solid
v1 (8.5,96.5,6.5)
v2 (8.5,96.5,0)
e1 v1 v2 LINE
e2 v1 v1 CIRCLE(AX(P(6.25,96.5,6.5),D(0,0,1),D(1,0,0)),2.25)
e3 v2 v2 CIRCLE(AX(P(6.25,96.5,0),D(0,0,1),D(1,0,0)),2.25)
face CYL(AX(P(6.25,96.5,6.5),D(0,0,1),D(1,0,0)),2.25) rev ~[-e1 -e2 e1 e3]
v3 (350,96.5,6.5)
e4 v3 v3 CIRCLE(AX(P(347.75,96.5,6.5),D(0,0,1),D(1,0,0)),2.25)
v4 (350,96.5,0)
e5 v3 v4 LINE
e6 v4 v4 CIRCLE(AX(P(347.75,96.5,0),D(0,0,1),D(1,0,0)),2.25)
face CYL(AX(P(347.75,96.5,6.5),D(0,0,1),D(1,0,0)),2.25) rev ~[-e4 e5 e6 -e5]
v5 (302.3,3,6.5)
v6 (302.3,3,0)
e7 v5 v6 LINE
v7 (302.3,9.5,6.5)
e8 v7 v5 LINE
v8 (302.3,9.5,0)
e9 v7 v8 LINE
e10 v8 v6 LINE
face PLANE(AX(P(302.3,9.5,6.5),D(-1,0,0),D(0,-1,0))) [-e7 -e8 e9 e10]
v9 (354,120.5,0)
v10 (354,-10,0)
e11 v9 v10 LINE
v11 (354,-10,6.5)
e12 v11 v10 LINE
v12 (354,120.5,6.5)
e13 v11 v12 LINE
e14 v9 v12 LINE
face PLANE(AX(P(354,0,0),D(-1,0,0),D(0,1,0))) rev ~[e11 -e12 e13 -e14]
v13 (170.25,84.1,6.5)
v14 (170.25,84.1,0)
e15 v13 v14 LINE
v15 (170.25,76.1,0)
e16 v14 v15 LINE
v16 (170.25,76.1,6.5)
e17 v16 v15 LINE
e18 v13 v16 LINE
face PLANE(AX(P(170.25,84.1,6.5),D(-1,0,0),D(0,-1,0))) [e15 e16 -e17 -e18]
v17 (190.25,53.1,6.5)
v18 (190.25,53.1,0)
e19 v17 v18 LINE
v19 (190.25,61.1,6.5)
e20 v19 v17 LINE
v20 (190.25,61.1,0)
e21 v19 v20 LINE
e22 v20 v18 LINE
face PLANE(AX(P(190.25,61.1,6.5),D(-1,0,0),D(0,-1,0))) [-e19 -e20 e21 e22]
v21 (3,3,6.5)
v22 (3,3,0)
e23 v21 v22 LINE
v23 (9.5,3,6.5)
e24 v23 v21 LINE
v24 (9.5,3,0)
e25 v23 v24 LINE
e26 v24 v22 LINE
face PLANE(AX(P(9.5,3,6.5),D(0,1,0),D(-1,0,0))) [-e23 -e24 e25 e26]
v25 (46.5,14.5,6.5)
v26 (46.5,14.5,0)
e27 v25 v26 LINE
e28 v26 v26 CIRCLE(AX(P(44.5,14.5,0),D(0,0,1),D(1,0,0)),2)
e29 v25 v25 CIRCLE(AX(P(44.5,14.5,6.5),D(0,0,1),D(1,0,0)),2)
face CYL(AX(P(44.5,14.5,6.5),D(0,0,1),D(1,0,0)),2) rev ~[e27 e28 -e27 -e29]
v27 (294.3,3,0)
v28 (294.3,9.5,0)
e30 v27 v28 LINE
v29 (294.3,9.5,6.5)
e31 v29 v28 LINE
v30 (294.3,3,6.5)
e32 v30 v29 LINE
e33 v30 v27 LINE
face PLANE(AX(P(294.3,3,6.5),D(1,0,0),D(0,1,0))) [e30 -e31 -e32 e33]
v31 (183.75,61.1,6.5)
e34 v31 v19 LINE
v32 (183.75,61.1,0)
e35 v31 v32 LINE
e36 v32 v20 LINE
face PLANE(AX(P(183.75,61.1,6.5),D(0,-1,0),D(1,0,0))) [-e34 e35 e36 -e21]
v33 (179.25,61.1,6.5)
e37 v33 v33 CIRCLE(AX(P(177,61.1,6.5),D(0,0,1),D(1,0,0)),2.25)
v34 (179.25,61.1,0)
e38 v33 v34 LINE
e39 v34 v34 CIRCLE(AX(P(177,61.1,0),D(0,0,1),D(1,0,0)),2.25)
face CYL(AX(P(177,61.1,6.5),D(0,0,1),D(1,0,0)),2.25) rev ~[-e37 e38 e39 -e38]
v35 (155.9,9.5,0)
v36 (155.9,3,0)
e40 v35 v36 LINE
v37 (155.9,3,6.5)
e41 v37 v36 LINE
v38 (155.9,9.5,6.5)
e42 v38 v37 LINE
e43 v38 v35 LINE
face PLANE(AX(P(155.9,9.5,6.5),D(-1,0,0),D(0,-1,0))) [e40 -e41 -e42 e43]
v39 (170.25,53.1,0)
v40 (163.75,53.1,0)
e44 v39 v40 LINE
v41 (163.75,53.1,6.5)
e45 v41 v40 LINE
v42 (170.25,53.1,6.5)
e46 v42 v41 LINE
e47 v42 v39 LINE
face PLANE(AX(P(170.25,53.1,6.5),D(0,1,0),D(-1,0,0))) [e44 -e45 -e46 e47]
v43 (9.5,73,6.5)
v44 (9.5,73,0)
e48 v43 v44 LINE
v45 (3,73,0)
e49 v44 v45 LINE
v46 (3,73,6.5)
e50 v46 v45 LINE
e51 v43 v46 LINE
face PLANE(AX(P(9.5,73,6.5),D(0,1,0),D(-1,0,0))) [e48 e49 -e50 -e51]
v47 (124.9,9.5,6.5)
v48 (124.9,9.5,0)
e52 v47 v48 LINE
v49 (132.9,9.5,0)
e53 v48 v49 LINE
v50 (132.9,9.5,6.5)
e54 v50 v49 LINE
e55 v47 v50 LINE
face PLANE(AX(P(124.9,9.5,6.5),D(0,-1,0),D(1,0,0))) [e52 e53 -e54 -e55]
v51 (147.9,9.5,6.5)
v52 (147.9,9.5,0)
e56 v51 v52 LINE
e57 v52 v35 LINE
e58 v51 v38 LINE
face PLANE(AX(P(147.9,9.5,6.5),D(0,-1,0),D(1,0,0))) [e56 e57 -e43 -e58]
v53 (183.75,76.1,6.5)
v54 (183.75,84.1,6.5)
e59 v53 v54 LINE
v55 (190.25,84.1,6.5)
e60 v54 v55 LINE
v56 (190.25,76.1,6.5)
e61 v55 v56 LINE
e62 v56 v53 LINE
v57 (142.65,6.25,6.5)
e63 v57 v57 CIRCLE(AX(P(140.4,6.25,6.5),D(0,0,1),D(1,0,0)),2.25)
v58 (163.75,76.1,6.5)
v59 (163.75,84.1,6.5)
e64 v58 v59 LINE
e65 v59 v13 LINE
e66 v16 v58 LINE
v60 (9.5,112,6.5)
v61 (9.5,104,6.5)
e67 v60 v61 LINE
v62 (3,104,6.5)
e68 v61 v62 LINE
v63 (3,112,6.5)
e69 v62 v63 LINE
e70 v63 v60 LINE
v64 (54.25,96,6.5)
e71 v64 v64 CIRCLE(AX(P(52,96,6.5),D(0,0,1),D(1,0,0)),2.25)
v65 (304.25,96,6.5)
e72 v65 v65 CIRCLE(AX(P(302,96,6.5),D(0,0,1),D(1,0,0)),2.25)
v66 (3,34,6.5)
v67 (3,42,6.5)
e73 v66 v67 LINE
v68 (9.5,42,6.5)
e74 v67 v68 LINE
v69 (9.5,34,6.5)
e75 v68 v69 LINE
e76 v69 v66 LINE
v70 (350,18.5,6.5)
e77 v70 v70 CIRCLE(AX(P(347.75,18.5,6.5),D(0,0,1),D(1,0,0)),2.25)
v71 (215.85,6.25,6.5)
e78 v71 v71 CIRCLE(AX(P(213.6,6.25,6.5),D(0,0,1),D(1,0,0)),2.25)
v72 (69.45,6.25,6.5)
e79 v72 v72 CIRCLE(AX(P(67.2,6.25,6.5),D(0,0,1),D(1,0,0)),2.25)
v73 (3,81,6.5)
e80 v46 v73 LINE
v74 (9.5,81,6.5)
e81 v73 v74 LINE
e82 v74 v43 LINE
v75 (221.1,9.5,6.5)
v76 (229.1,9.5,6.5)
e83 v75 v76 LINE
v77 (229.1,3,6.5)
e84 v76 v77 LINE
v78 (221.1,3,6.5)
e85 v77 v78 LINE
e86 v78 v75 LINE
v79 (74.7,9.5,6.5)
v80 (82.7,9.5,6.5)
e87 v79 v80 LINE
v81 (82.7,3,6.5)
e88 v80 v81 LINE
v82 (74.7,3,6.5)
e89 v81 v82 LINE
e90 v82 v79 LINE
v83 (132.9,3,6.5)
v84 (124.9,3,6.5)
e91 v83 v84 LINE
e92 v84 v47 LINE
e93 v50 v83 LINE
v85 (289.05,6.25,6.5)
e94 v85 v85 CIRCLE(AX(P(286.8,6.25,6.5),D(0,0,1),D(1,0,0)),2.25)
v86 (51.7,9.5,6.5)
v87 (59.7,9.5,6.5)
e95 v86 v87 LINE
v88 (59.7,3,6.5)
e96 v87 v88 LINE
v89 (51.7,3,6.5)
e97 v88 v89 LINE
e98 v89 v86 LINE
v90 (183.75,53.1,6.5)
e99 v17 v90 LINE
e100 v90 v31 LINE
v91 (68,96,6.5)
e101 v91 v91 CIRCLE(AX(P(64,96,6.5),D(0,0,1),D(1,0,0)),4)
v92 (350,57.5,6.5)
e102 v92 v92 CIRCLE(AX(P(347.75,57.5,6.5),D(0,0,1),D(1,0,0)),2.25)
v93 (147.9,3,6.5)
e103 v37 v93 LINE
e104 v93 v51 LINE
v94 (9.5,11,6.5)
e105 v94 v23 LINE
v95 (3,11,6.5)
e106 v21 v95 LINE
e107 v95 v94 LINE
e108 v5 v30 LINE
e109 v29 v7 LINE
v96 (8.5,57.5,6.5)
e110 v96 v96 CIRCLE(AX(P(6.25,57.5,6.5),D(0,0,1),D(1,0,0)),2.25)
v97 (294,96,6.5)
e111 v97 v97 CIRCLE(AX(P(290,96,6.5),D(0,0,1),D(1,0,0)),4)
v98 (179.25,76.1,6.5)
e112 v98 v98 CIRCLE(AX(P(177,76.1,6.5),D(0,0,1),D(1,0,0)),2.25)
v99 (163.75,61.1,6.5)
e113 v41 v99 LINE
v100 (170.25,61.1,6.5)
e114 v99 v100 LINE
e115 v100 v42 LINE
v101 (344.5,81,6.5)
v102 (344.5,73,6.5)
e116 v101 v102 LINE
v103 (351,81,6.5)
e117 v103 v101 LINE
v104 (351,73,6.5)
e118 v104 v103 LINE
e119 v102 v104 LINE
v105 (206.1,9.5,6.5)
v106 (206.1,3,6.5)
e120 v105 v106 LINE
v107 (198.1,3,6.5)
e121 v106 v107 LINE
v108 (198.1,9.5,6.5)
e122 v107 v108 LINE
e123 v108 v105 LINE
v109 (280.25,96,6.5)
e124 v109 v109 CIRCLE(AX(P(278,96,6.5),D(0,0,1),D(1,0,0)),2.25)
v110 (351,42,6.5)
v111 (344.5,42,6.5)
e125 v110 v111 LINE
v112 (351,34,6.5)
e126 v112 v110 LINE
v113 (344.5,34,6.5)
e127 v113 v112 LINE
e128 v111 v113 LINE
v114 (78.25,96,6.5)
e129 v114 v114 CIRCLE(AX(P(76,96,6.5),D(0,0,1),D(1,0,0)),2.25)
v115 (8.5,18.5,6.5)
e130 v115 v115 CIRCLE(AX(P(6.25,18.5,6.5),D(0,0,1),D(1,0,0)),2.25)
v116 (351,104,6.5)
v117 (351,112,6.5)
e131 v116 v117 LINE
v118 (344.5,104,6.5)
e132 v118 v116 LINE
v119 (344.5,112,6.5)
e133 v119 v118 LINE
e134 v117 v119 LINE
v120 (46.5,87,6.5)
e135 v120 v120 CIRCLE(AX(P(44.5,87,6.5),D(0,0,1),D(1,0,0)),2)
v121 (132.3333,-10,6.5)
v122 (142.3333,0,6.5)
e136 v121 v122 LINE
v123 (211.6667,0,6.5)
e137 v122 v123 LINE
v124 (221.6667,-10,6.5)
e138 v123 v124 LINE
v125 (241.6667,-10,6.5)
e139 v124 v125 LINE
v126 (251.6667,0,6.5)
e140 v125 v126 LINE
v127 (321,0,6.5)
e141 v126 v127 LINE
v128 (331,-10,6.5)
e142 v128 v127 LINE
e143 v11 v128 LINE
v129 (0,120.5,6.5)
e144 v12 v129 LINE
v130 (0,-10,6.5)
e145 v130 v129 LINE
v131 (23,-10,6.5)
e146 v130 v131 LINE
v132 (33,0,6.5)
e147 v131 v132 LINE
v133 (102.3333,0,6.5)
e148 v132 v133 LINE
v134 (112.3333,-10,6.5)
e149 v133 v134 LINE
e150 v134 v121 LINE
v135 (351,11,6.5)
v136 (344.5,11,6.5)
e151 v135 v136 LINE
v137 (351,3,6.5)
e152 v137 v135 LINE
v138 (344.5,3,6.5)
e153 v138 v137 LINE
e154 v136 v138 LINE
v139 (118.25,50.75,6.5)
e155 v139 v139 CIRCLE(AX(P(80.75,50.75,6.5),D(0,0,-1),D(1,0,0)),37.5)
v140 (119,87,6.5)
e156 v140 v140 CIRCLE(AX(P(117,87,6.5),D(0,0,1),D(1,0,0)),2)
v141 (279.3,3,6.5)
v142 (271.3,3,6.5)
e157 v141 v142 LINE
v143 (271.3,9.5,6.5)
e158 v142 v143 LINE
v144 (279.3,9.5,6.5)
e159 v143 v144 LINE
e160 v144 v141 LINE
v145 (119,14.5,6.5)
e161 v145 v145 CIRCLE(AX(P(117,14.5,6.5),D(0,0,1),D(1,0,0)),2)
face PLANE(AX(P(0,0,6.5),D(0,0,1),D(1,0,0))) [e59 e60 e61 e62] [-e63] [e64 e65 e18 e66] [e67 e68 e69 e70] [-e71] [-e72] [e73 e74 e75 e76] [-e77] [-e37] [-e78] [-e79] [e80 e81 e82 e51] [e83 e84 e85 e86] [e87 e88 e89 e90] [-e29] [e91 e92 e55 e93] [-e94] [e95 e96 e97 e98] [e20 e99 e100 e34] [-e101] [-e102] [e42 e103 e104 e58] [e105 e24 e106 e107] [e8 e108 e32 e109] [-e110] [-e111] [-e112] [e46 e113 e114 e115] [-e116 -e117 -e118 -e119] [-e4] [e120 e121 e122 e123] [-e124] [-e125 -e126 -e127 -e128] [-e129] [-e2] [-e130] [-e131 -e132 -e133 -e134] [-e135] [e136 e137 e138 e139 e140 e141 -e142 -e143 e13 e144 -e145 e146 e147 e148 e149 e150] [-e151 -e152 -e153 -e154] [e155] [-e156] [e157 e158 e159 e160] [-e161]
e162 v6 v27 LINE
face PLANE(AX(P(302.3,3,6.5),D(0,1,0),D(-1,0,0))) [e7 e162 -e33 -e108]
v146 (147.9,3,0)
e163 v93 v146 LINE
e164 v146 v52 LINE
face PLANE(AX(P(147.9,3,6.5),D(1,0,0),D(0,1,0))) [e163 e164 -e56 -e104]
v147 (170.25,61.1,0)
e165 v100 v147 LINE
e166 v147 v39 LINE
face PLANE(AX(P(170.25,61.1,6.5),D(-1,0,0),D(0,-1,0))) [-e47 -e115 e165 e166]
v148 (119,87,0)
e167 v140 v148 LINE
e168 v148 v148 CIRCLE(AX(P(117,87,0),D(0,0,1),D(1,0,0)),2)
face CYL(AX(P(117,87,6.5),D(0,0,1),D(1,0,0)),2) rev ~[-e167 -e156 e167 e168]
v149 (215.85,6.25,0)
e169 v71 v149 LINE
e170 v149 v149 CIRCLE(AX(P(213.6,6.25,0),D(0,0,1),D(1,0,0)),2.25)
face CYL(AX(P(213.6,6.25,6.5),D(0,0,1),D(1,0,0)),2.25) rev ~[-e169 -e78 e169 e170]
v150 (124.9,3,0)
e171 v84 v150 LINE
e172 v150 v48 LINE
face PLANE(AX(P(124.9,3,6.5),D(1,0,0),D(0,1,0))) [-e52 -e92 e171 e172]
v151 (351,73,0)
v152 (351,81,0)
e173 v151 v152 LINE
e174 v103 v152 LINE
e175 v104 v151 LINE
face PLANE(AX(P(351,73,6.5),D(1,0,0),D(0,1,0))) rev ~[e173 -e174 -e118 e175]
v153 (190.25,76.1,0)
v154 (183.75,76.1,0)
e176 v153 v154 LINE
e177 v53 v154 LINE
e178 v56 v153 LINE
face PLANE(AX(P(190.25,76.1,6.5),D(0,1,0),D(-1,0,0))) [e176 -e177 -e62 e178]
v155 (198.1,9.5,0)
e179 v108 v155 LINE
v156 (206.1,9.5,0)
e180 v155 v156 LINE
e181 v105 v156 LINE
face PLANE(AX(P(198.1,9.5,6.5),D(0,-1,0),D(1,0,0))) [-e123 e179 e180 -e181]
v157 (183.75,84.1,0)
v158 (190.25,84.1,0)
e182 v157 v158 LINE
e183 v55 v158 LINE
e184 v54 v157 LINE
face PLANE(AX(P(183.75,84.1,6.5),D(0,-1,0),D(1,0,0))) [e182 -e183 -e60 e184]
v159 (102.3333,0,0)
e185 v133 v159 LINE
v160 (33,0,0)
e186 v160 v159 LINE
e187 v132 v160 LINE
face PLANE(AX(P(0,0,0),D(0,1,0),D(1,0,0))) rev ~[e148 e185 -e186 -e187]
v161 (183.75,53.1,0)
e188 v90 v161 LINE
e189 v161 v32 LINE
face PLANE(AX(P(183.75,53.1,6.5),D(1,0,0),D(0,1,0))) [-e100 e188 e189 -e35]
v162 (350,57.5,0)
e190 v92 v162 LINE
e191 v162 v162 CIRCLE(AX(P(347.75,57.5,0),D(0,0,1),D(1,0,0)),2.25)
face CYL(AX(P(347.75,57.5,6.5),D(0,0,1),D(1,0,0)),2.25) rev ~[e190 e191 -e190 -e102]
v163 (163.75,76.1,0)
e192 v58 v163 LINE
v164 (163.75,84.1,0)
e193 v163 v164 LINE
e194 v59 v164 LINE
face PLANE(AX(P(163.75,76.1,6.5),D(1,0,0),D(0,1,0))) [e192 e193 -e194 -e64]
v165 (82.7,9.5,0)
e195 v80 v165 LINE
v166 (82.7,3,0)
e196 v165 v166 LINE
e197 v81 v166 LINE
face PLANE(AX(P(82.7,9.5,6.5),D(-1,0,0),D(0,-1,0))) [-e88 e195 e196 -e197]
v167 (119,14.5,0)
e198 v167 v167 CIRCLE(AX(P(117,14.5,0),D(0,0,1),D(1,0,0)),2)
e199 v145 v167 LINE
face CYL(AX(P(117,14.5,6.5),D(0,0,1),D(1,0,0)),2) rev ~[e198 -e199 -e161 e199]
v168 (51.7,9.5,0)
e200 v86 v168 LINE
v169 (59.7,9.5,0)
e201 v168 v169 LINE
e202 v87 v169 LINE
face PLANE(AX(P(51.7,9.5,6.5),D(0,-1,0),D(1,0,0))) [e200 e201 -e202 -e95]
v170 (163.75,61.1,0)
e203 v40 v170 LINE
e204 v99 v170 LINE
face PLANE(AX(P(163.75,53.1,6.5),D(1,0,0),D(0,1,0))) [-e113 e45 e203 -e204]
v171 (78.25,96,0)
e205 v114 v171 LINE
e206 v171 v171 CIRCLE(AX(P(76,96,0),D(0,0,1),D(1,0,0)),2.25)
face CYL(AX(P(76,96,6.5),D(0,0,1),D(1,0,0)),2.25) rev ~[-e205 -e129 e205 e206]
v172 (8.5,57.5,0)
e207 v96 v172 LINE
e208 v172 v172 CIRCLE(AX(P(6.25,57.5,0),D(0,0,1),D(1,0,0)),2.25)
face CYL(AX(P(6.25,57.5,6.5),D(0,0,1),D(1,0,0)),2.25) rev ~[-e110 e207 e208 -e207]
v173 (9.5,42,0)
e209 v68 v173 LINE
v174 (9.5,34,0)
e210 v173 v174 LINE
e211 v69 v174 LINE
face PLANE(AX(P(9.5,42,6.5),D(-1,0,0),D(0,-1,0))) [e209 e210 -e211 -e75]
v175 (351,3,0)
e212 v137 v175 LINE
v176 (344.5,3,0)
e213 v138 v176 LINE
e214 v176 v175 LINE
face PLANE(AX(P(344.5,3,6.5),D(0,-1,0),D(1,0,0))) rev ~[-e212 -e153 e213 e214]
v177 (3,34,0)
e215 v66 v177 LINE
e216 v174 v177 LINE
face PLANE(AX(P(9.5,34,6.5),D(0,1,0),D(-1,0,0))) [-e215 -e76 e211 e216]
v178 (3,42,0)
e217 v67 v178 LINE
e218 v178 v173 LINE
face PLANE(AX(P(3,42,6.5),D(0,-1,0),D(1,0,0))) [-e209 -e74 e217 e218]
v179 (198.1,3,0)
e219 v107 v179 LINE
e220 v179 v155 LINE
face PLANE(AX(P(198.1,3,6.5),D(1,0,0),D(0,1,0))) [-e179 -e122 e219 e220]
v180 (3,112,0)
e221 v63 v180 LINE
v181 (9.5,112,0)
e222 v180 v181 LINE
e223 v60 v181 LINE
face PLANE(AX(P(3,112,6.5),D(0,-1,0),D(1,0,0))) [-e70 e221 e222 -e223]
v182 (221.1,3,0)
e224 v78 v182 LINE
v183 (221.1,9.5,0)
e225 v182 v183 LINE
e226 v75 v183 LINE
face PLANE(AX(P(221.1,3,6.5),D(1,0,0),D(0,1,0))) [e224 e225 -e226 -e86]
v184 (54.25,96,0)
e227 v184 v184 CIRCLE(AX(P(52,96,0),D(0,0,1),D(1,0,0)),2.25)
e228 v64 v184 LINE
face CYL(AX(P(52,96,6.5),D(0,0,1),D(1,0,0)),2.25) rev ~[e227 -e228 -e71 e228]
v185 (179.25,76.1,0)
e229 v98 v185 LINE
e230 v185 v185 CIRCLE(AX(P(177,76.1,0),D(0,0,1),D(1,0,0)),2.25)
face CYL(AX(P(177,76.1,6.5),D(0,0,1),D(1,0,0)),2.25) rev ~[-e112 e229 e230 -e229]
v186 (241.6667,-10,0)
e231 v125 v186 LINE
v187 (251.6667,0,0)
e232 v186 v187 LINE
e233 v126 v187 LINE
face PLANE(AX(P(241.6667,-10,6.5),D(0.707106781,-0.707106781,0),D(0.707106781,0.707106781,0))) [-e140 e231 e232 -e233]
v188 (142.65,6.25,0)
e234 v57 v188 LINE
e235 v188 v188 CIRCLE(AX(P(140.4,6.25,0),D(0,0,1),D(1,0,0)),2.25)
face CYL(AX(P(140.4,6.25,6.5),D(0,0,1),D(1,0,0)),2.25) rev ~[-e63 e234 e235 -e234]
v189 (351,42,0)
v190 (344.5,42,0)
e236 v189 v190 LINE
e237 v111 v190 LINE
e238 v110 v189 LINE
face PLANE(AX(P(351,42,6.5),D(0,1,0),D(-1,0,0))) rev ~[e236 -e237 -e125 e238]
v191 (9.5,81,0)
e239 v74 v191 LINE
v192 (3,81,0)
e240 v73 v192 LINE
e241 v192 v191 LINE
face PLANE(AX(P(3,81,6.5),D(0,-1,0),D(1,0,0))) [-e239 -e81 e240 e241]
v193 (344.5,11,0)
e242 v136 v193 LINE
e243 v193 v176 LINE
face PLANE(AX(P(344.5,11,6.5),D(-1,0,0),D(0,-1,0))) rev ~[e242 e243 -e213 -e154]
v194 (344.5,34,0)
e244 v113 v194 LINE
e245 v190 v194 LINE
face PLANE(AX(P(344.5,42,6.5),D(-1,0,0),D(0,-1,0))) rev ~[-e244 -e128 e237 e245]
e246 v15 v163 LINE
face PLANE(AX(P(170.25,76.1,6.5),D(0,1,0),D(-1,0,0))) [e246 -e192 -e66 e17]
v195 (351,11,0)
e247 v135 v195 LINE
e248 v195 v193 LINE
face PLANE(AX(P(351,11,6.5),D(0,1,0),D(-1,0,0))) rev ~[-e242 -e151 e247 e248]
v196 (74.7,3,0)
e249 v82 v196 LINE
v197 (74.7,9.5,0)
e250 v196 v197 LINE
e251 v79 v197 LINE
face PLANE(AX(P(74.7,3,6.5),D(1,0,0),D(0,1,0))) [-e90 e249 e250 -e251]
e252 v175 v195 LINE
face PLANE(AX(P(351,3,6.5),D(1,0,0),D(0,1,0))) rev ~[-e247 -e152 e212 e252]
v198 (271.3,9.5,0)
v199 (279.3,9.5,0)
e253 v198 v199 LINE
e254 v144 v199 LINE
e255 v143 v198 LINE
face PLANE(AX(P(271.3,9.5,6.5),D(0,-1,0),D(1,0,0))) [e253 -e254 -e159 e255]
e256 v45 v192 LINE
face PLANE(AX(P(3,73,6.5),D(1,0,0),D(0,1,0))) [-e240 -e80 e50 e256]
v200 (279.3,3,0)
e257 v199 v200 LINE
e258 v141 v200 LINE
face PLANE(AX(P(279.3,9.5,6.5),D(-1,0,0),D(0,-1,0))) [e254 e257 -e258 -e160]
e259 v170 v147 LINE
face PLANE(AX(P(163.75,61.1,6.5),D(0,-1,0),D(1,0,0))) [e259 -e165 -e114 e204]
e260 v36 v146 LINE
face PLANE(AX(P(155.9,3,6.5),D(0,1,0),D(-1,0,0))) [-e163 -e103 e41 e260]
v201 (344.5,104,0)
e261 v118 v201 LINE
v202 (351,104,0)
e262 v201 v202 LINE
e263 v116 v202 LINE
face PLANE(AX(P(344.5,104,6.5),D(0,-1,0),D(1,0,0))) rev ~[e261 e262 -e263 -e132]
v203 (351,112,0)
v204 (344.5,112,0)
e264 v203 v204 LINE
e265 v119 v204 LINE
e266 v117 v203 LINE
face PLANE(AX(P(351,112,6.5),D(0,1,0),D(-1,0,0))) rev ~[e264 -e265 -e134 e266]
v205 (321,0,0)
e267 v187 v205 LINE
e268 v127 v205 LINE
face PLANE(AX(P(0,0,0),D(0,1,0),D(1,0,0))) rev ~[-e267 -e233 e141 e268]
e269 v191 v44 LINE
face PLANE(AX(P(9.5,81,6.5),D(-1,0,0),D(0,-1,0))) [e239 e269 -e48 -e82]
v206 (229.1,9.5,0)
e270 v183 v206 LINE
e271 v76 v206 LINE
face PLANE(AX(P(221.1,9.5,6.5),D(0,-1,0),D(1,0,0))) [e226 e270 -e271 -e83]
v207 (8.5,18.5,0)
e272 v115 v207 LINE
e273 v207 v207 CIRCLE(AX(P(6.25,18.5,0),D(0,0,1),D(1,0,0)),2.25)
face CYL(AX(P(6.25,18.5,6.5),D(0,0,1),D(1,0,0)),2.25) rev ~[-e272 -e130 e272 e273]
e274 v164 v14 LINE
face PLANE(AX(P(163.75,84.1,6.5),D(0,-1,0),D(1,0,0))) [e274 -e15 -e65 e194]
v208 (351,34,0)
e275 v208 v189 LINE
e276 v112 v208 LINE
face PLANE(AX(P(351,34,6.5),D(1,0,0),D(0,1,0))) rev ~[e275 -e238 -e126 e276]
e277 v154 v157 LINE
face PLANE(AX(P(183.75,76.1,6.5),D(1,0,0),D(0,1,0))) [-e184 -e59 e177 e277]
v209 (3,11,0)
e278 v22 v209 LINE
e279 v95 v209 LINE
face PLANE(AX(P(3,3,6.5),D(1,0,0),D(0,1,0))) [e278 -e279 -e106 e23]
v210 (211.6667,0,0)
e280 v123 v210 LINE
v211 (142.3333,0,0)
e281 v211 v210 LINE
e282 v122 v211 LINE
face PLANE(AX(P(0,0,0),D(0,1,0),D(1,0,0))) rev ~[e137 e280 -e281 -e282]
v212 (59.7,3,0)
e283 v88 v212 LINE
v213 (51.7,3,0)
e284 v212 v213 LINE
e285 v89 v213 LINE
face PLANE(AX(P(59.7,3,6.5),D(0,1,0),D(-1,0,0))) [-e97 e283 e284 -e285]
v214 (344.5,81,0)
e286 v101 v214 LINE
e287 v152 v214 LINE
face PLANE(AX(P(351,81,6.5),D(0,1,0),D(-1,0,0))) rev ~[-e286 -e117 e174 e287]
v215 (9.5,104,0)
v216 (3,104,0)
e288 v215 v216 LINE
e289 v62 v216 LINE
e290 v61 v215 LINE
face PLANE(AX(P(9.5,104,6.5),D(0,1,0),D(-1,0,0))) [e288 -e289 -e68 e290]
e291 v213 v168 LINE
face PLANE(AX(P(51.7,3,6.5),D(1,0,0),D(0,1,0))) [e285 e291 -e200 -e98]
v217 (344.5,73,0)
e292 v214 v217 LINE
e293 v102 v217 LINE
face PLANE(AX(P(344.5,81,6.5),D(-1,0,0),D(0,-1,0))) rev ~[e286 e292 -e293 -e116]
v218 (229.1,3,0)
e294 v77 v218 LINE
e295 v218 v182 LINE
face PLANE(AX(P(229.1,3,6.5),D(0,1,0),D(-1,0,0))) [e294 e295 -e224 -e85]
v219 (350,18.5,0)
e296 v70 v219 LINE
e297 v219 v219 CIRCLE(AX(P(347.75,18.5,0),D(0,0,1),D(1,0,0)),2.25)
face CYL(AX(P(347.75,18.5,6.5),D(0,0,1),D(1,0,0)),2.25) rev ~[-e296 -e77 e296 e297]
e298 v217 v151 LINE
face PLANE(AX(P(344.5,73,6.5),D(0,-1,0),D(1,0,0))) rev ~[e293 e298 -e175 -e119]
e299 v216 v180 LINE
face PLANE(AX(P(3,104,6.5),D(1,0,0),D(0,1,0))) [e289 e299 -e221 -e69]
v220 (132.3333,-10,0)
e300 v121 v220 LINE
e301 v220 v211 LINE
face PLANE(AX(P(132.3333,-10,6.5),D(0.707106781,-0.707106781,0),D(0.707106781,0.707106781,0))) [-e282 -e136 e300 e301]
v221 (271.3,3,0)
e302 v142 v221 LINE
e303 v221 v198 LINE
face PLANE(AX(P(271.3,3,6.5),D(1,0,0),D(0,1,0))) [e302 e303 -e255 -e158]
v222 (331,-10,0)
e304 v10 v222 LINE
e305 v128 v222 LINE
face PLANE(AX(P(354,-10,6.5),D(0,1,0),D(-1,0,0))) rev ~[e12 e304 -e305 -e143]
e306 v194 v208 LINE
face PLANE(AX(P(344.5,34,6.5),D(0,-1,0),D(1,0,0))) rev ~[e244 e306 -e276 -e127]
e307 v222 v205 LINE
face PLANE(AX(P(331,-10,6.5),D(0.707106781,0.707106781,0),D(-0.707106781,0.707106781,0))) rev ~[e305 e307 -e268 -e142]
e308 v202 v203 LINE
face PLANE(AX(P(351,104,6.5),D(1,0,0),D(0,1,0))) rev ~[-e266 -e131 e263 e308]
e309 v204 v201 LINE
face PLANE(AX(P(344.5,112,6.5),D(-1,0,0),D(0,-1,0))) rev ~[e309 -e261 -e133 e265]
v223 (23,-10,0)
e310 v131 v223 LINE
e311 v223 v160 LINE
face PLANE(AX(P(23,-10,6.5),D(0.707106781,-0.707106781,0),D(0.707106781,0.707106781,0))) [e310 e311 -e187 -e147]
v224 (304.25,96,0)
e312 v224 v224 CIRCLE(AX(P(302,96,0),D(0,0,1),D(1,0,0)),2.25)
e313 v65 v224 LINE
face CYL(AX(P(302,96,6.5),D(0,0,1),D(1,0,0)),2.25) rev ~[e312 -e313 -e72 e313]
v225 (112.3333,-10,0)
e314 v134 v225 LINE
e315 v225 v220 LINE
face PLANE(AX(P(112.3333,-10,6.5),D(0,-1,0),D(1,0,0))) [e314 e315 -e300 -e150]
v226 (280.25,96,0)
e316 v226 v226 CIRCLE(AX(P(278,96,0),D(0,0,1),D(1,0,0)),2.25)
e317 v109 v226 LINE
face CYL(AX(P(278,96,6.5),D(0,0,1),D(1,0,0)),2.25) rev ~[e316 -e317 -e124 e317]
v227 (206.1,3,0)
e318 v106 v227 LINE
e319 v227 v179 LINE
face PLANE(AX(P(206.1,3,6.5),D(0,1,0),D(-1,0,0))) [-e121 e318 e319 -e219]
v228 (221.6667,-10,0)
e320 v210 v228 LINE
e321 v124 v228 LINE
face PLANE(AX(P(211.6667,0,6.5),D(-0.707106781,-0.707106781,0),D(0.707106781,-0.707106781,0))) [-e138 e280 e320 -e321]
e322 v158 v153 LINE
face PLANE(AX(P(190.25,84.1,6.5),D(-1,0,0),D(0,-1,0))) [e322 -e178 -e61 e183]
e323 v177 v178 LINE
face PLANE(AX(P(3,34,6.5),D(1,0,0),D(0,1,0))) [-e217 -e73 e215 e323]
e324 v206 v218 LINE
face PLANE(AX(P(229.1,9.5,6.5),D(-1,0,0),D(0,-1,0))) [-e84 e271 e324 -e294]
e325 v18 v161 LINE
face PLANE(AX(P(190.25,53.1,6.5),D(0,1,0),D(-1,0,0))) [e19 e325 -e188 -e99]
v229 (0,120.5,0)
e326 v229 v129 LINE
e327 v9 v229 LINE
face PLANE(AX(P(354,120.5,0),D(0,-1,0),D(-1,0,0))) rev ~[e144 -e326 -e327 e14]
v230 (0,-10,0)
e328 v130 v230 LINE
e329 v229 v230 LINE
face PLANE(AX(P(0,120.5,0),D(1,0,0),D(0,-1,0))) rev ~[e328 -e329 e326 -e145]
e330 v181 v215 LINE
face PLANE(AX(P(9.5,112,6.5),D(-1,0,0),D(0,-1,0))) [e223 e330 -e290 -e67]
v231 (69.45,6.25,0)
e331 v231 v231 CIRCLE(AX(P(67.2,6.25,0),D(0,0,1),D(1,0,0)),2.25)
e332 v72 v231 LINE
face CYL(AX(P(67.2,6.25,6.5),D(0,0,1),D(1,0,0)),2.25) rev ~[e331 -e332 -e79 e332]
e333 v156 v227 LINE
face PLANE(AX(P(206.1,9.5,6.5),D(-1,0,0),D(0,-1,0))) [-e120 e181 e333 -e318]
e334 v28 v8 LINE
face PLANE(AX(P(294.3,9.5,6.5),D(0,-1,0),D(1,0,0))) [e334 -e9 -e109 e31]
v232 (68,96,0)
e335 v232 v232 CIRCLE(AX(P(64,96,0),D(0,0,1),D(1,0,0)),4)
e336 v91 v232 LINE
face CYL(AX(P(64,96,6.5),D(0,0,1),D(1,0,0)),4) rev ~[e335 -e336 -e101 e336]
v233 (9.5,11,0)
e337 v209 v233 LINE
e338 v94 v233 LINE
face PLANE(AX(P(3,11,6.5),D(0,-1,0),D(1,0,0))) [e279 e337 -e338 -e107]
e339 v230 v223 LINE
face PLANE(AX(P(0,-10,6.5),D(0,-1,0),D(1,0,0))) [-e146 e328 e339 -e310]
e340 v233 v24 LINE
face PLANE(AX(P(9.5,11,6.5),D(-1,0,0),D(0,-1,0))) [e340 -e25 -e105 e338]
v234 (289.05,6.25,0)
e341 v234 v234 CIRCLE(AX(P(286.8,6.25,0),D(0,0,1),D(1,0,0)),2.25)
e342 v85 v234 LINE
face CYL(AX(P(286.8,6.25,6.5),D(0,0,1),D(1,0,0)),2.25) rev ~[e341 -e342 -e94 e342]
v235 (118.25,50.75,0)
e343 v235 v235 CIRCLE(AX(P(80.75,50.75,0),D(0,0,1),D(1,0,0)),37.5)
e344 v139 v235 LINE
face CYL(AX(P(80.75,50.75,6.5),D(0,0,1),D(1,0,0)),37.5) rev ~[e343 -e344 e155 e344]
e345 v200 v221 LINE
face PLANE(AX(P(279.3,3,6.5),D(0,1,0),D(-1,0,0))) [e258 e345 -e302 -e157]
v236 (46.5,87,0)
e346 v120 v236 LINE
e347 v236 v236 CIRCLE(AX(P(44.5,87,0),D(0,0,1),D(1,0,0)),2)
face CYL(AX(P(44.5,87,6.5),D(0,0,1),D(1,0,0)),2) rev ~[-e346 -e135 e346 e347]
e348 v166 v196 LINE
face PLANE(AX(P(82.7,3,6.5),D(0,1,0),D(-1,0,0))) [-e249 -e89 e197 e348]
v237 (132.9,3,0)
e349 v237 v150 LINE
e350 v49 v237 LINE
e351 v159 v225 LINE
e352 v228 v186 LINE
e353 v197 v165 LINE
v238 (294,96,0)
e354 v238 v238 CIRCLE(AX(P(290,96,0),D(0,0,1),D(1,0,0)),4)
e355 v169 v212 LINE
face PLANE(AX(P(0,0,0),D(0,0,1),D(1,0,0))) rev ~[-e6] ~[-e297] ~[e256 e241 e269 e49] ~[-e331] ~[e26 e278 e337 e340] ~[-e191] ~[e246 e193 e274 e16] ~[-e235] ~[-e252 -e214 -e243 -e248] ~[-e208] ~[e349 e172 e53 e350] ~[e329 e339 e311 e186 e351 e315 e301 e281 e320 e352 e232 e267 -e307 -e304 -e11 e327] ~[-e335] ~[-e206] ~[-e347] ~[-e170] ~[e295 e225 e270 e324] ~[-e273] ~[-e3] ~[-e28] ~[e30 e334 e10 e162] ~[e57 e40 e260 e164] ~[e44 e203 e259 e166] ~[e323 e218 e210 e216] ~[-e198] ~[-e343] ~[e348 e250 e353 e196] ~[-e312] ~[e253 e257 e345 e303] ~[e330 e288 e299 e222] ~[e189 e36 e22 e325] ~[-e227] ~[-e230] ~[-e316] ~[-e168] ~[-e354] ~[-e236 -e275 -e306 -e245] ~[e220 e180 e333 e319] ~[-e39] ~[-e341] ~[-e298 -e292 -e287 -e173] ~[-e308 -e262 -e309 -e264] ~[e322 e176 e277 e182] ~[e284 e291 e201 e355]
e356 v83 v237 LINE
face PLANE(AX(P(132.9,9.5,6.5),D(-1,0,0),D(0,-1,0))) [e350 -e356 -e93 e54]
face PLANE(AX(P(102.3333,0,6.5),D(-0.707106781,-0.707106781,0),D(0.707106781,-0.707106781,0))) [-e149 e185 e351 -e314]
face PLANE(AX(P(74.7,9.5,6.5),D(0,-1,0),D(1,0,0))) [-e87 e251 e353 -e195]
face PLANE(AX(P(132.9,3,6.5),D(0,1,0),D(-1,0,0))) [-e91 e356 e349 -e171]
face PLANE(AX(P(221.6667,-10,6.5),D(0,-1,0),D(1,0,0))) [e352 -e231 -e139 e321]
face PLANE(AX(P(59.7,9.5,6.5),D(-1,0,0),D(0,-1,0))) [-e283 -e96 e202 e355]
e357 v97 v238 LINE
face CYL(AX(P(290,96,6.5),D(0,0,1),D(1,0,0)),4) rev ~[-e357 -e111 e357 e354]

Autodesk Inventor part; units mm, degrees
ref_plane "YZ Plane" through (0, 0, 0) normal (1, 0, 0) x (0, 1, 0)
ref_plane "XZ Plane" through (0, 0, 0) normal (0, 1, 0) x (-1, 0, 0)
ref_plane "XY Plane" through (0, 0, 0) normal (0, 0, 1) x (1, 0, 0)
sketch "Sketch1" plane through (0, 0, 0) normal (0, 0, 1) x (1, 0, 0)
  line L0 (0, 0) -> (354, 0)
  line L1 (354, 0) -> (354, 120.5)
  line L2 (354, 120.5) -> (0, 120.5)
  line L3 (0, 120.5) -> (0, 0)
  dimension "d0" = 120.5
  dimension "d1" = 354
extrude "Extrusion1" add sketch "Sketch1" along normal blind 6.5
sketch "Sketch3" plane through (0, 0, 6.5) normal (0, 0, 1) x (1, 0, 0)
  line L0 (0, 0) -> (354, 0) projected
  line L1 (354, 120.5) -> (0, 120.5) projected
  line L2 (0, 120.5) -> (0, 0) projected
  circle A0 centre (64, 96) radius 4
  circle A1 centre (290, 96) radius 4
  line L3 (64, 96) -> (290, 96) construction
  point P0 (177, 96)
  point P1 (177, 120.5)
  dimension "d9" = 8
  dimension "d10" = 96
  dimension "d11" = 226
extrude "Extrusion3" cut sketch "Sketch3" against normal through all
sketch "Sketch4" plane through (0, 0, 6.5) normal (0, 0, 1) x (1, 0, 0)
  line L0 (0, 0) -> (354, 0) projected
  line L1 (354, 120.5) -> (0, 120.5) projected
  line L2 (0, 120.5) -> (0, 0) projected
  circle A0 centre (6.25, 18.5) radius 2.25
  circle A1 centre (6.25, 57.5) radius 2.25
  circle A2 centre (6.25, 96.5) radius 2.25
  line L3 (177, 120.5) -> (177, 0) construction
  line L4 (3, 112) -> (9.5, 112)
  line L5 (9.5, 112) -> (9.5, 104)
  line L6 (9.5, 104) -> (3, 104)
  line L7 (3, 104) -> (3, 112)
  line L8 (3, 81) -> (9.5, 81)
  line L9 (9.5, 81) -> (9.5, 73)
  line L10 (9.5, 73) -> (3, 73)
  line L11 (3, 73) -> (3, 81)
  line L12 (3, 42) -> (9.5, 42)
  line L13 (9.5, 42) -> (9.5, 34)
  line L14 (9.5, 34) -> (3, 34)
  line L15 (3, 34) -> (3, 42)
  line L16 (3, 11) -> (9.5, 11)
  line L17 (9.5, 11) -> (9.5, 3)
  line L18 (9.5, 3) -> (3, 3)
  line L19 (3, 3) -> (3, 11)
  line L20 (6.25, 18.5) -> (6.25, 57.5) construction
  line L21 (6.25, 57.5) -> (6.25, 96.5) construction
  circle A3 centre (347.75, 18.5) radius 2.25
  circle A4 centre (347.75, 57.5) radius 2.25
  circle A5 centre (347.75, 96.5) radius 2.25
  line L22 (351, 112) -> (344.5, 112)
  line L23 (344.5, 112) -> (344.5, 104)
  line L24 (344.5, 104) -> (351, 104)
  line L25 (351, 104) -> (351, 112)
  line L26 (351, 81) -> (344.5, 81)
  line L27 (344.5, 81) -> (344.5, 73)
  line L28 (344.5, 73) -> (351, 73)
  line L29 (351, 73) -> (351, 81)
  line L30 (351, 42) -> (344.5, 42)
  line L31 (344.5, 42) -> (344.5, 34)
  line L32 (344.5, 34) -> (351, 34)
  line L33 (351, 34) -> (351, 42)
  line L34 (351, 11) -> (344.5, 11)
  line L35 (344.5, 11) -> (344.5, 3)
  line L36 (344.5, 3) -> (351, 3)
  line L37 (351, 3) -> (351, 11)
  line L38 (347.75, 18.5) -> (347.75, 57.5) construction
  line L39 (347.75, 57.5) -> (347.75, 96.5) construction
  point P0 (6.25, 104)
  point P1 (3, 38)
  point P2 (6.25, 38)
  point P3 (3, 77)
  point P4 (6.25, 77)
  point P5 (347.75, 104)
  point P6 (351, 38)
  point P7 (347.75, 38)
  point P8 (351, 77)
  point P9 (347.75, 77)
  dimension "d14" = 18.5
  dimension "d15" = 39
  dimension "d16" = 39
  dimension "d17" = 4.5
  dimension "d18" = 6.5
  dimension "d19" = 8
  dimension "d20" = 8
  dimension "d21" = 8
  dimension "d22" = 8
  dimension "d23" = 3
  dimension "d27" = 23
  dimension "d28" = 3
extrude "Extrusion4" cut sketch "Sketch4" against normal through all
sketch "Sketch5" plane through (0, 0, 6.5) normal (0, 0, 1) x (1, 0, 0)
  line L0 (0, 0) -> (354, 0) projected
  line L1 (51.7, 9.5) -> (59.7, 9.5)
  line L2 (59.7, 9.5) -> (59.7, 3)
  line L3 (59.7, 3) -> (51.7, 3)
  line L4 (51.7, 3) -> (51.7, 9.5)
  line L5 (74.7, 9.5) -> (82.7, 9.5)
  line L6 (82.7, 9.5) -> (82.7, 3)
  line L7 (82.7, 3) -> (74.7, 3)
  line L8 (74.7, 3) -> (74.7, 9.5)
  line L9 (59.7, 9.5) -> (74.7, 3) construction
  line L10 (74.7, 9.5) -> (59.7, 3) construction
  circle A0 centre (67.2, 6.25) radius 2.25
  line L11 (124.9, 9.5) -> (132.9, 9.5)
  line L12 (132.9, 9.5) -> (132.9, 3)
  line L13 (132.9, 3) -> (124.9, 3)
  line L14 (124.9, 3) -> (124.9, 9.5)
  line L15 (147.9, 9.5) -> (155.9, 9.5)
  line L16 (155.9, 9.5) -> (155.9, 3)
  line L17 (155.9, 3) -> (147.9, 3)
  line L18 (147.9, 3) -> (147.9, 9.5)
  line L19 (132.9, 9.5) -> (147.9, 3) construction
  line L20 (147.9, 9.5) -> (132.9, 3) construction
  circle A1 centre (140.4, 6.25) radius 2.25
  line L21 (198.1, 9.5) -> (206.1, 9.5)
  line L22 (206.1, 9.5) -> (206.1, 3)
  line L23 (206.1, 3) -> (198.1, 3)
  line L24 (198.1, 3) -> (198.1, 9.5)
  line L25 (221.1, 9.5) -> (229.1, 9.5)
  line L26 (229.1, 9.5) -> (229.1, 3)
  line L27 (229.1, 3) -> (221.1, 3)
  line L28 (221.1, 3) -> (221.1, 9.5)
  line L29 (206.1, 9.5) -> (221.1, 3) construction
  line L30 (221.1, 9.5) -> (206.1, 3) construction
  circle A2 centre (213.6, 6.25) radius 2.25
  line L31 (271.3, 9.5) -> (279.3, 9.5)
  line L32 (279.3, 9.5) -> (279.3, 3)
  line L33 (279.3, 3) -> (271.3, 3)
  line L34 (271.3, 3) -> (271.3, 9.5)
  line L35 (294.3, 9.5) -> (302.3, 9.5)
  line L36 (302.3, 9.5) -> (302.3, 3)
  line L37 (302.3, 3) -> (294.3, 3)
  line L38 (294.3, 3) -> (294.3, 9.5)
  line L39 (279.3, 9.5) -> (294.3, 3) construction
  line L40 (294.3, 9.5) -> (279.3, 3) construction
  circle A3 centre (286.8, 6.25) radius 2.25
  line L41 (51.7, 6.25) -> (9.5, 6.25) construction
  line L42 (82.7, 6.25) -> (124.9, 6.25) construction
  line L43 (155.9, 6.25) -> (198.1, 6.25) construction
  line L44 (229.1, 6.25) -> (271.3, 6.25) construction
  line L45 (302.3, 6.25) -> (344.5, 6.25) construction
  point P0 (9.5, 3)
  point P1 (344.5, 3)
  point P2 (286.8, 6.25)
  dimension "d31" = 8
  dimension "d32" = 6.5
  dimension "d33" = 8
  dimension "d34" = 15
  dimension "d35" = 4.5
  dimension "d36" = 8
  dimension "d37" = 6.5
  dimension "d38" = 8
  dimension "d39" = 15
  dimension "d40" = 4.5
  dimension "d41" = 8
  dimension "d42" = 6.5
  dimension "d43" = 8
  dimension "d44" = 15
  dimension "d45" = 4.5
  dimension "d46" = 8
  dimension "d47" = 6.5
  dimension "d48" = 8
  dimension "d49" = 15
  dimension "d50" = 4.5
  dimension "d51" = 3
extrude "Extrusion5" cut sketch "Sketch5" against normal through all
sketch "Sketch6" plane through (0, 0, 6.5) normal (0, 0, 1) x (1, 0, 0)
  line L0 (0, 0) -> (354, 0) projected
  line L1 (0, 120.5) -> (0, 0) projected
  line L2 (0, 0) -> (0, -10)
  line L3 (0, -10) -> (23, -10)
  line L4 (23, -10) -> (33, 0)
  line L5 (102.3333, 0) -> (112.3333, -10)
  line L6 (112.3333, -10) -> (132.3333, -10)
  line L7 (132.3333, -10) -> (142.3333, 0)
  line L8 (211.6667, 0) -> (221.6667, -10)
  line L9 (221.6667, -10) -> (241.6667, -10)
  line L10 (241.6667, -10) -> (251.6667, 0)
  line L11 (354, 0) -> (354, -10)
  line L12 (354, -10) -> (331, -10)
  line L13 (331, -10) -> (321, 0)
  line L14 (23, -10) -> (112.3333, -10) construction
  line L15 (132.3333, -10) -> (221.6667, -10) construction
  line L16 (241.6667, -10) -> (331, -10) construction
  dimension "d54" = 20
  dimension "d55" = 23
  dimension "d56" = 45
  dimension "d57" = 10
extrude "Extrusion6" add sketch "Sketch6" against normal blind 6.5
sketch "Sketch7" plane through (0, 0, 6.5) normal (0, 0, 1) x (1, 0, 0)
  line L0 (354, 120.5) -> (0, 120.5) projected
  line L1 (173.5, 81.6) -> (180.5, 81.6) construction
  line L2 (180.5, 81.6) -> (180.5, 55.6) construction
  line L3 (180.5, 55.6) -> (173.5, 55.6) construction
  line L4 (173.5, 55.6) -> (173.5, 81.6) construction
  line L5 (183.75, 84.1) -> (190.25, 84.1)
  line L6 (190.25, 84.1) -> (190.25, 76.1)
  line L7 (190.25, 76.1) -> (183.75, 76.1)
  line L8 (183.75, 76.1) -> (183.75, 84.1)
  line L9 (183.75, 61.1) -> (190.25, 61.1)
  line L10 (190.25, 61.1) -> (190.25, 53.1)
  line L11 (190.25, 53.1) -> (183.75, 53.1)
  line L12 (183.75, 53.1) -> (183.75, 61.1)
  line L13 (163.75, 84.1) -> (170.25, 84.1)
  line L14 (170.25, 84.1) -> (170.25, 76.1)
  line L15 (170.25, 76.1) -> (163.75, 76.1)
  line L16 (163.75, 76.1) -> (163.75, 84.1)
  line L17 (163.75, 61.1) -> (170.25, 61.1)
  line L18 (170.25, 61.1) -> (170.25, 53.1)
  line L19 (170.25, 53.1) -> (163.75, 53.1)
  line L20 (163.75, 53.1) -> (163.75, 61.1)
  line L21 (170.25, 76.1) -> (183.75, 61.1) construction
  line L22 (183.75, 76.1) -> (170.25, 61.1) construction
  circle A0 centre (177, 76.1) radius 2.25
  circle A1 centre (177, 61.1) radius 2.25
  line L23 (177, 76.1) -> (177, 61.1) construction
  point P0 (147.9, 9.5)
  point P1 (0, 0)
  point P2 (177, 81.6)
  point P3 (177, 120.5)
  point P4 (177, 68.6)
  point P5 (173.5, 68.6)
  point P6 (177, 68.6)
  dimension "d60" = 7
  dimension "d61" = 26
  dimension "d62" = 72.1
  dimension "d63" = 8
  dimension "d64" = 6.5
  dimension "d65" = 6.5
  dimension "d66" = 8
  dimension "d67" = 13.5
  dimension "d68" = 15
  dimension "d69" = 4.5
  dimension "d70" = 15
extrude "Extrusion7" cut sketch "Sketch7" against normal through all
sketch "Sketch8" plane through (0, 0, 6.5) normal (0, 0, 1) x (1, 0, 0)
  line L0 (163.75, 84.1) -> (170.25, 84.1) projected
  circle A0 centre (64, 96) radius 4 projected
  circle A1 centre (290, 96) radius 4 projected
  line L1 (354, 120.5) -> (0, 120.5) projected
  circle A2 centre (52, 96) radius 2.25
  circle A3 centre (76, 96) radius 2.25
  circle A4 centre (278, 96) radius 2.25
  circle A5 centre (302, 96) radius 2.25
  line L2 (52, 96) -> (76, 96) construction
  line L3 (278, 96) -> (302, 96) construction
  point P0 (0, 0)
  dimension "d73" = 24
  dimension "d74" = 4.5
extrude "Extrusion8" cut sketch "Sketch8" against normal through all contours A2 | A3 | A4 | A5
sketch "Sketch9" plane through (0, 0, 6.5) normal (0, 0, 1) x (1, 0, 0)
  line L0 (74.7, 9.5) -> (82.7, 9.5) projected
  line L1 (9.5, 42) -> (9.5, 34) projected
  line L2 (44.5, 87) -> (117, 87) construction
  line L3 (117, 87) -> (117, 14.5) construction
  line L4 (117, 14.5) -> (44.5, 14.5) construction
  line L5 (44.5, 14.5) -> (44.5, 87) construction
  circle A0 centre (44.5, 87) radius 2
  circle A1 centre (117, 87) radius 2
  circle A2 centre (117, 14.5) radius 2
  circle A3 centre (44.5, 14.5) radius 2
  line L6 (40.75, 90.75) -> (120.75, 90.75) construction
  line L7 (120.75, 90.75) -> (120.75, 10.75) construction
  line L8 (120.75, 10.75) -> (40.75, 10.75) construction
  line L9 (40.75, 10.75) -> (40.75, 90.75) construction
  point P0 (0, 0)
  point P1 (80.75, 10.75)
  point P2 (80.75, 14.5)
  point P3 (40.75, 50.75)
  point P4 (44.5, 50.75)
  dimension "d77" = 4
  dimension "d78" = 72.5
  dimension "d79" = 5
  dimension "d80" = 80
  dimension "d81" = 35
extrude "Extrusion9" cut sketch "Sketch9" against normal through all
sketch "Sketch10" plane through (0, 0, 6.5) normal (0, 0, 1) x (1, 0, 0)
  circle A0 centre (117, 14.5) radius 2 projected
  circle A1 centre (44.5, 87) radius 2 projected
  line L0 (44.5, 87) -> (117, 87) construction
  line L1 (117, 87) -> (117, 14.5) construction
  line L2 (117, 14.5) -> (44.5, 14.5) construction
  line L3 (44.5, 14.5) -> (44.5, 87) construction
  circle A2 centre (80.75, 50.75) radius 37.5
  line L4 (40.75, 98.6417) -> (120.75, 98.6417)
  line L5 (120.75, 98.6417) -> (120.75, 18.6417)
  line L6 (120.75, 18.6417) -> (40.75, 18.6417)
  line L7 (40.75, 18.6417) -> (40.75, 98.6417)
  point P0 (0, 0)
  point P1 (80.75, 87)
  point P2 (44.5, 50.75)
  point P3 (80.75, 98.6417)
  dimension "d84" = 75
  dimension "d87" = 80
extrude "Extrusion10" cut sketch "Sketch10" against normal through all contours A2 L6 | L6 A2
properties part number "back"
